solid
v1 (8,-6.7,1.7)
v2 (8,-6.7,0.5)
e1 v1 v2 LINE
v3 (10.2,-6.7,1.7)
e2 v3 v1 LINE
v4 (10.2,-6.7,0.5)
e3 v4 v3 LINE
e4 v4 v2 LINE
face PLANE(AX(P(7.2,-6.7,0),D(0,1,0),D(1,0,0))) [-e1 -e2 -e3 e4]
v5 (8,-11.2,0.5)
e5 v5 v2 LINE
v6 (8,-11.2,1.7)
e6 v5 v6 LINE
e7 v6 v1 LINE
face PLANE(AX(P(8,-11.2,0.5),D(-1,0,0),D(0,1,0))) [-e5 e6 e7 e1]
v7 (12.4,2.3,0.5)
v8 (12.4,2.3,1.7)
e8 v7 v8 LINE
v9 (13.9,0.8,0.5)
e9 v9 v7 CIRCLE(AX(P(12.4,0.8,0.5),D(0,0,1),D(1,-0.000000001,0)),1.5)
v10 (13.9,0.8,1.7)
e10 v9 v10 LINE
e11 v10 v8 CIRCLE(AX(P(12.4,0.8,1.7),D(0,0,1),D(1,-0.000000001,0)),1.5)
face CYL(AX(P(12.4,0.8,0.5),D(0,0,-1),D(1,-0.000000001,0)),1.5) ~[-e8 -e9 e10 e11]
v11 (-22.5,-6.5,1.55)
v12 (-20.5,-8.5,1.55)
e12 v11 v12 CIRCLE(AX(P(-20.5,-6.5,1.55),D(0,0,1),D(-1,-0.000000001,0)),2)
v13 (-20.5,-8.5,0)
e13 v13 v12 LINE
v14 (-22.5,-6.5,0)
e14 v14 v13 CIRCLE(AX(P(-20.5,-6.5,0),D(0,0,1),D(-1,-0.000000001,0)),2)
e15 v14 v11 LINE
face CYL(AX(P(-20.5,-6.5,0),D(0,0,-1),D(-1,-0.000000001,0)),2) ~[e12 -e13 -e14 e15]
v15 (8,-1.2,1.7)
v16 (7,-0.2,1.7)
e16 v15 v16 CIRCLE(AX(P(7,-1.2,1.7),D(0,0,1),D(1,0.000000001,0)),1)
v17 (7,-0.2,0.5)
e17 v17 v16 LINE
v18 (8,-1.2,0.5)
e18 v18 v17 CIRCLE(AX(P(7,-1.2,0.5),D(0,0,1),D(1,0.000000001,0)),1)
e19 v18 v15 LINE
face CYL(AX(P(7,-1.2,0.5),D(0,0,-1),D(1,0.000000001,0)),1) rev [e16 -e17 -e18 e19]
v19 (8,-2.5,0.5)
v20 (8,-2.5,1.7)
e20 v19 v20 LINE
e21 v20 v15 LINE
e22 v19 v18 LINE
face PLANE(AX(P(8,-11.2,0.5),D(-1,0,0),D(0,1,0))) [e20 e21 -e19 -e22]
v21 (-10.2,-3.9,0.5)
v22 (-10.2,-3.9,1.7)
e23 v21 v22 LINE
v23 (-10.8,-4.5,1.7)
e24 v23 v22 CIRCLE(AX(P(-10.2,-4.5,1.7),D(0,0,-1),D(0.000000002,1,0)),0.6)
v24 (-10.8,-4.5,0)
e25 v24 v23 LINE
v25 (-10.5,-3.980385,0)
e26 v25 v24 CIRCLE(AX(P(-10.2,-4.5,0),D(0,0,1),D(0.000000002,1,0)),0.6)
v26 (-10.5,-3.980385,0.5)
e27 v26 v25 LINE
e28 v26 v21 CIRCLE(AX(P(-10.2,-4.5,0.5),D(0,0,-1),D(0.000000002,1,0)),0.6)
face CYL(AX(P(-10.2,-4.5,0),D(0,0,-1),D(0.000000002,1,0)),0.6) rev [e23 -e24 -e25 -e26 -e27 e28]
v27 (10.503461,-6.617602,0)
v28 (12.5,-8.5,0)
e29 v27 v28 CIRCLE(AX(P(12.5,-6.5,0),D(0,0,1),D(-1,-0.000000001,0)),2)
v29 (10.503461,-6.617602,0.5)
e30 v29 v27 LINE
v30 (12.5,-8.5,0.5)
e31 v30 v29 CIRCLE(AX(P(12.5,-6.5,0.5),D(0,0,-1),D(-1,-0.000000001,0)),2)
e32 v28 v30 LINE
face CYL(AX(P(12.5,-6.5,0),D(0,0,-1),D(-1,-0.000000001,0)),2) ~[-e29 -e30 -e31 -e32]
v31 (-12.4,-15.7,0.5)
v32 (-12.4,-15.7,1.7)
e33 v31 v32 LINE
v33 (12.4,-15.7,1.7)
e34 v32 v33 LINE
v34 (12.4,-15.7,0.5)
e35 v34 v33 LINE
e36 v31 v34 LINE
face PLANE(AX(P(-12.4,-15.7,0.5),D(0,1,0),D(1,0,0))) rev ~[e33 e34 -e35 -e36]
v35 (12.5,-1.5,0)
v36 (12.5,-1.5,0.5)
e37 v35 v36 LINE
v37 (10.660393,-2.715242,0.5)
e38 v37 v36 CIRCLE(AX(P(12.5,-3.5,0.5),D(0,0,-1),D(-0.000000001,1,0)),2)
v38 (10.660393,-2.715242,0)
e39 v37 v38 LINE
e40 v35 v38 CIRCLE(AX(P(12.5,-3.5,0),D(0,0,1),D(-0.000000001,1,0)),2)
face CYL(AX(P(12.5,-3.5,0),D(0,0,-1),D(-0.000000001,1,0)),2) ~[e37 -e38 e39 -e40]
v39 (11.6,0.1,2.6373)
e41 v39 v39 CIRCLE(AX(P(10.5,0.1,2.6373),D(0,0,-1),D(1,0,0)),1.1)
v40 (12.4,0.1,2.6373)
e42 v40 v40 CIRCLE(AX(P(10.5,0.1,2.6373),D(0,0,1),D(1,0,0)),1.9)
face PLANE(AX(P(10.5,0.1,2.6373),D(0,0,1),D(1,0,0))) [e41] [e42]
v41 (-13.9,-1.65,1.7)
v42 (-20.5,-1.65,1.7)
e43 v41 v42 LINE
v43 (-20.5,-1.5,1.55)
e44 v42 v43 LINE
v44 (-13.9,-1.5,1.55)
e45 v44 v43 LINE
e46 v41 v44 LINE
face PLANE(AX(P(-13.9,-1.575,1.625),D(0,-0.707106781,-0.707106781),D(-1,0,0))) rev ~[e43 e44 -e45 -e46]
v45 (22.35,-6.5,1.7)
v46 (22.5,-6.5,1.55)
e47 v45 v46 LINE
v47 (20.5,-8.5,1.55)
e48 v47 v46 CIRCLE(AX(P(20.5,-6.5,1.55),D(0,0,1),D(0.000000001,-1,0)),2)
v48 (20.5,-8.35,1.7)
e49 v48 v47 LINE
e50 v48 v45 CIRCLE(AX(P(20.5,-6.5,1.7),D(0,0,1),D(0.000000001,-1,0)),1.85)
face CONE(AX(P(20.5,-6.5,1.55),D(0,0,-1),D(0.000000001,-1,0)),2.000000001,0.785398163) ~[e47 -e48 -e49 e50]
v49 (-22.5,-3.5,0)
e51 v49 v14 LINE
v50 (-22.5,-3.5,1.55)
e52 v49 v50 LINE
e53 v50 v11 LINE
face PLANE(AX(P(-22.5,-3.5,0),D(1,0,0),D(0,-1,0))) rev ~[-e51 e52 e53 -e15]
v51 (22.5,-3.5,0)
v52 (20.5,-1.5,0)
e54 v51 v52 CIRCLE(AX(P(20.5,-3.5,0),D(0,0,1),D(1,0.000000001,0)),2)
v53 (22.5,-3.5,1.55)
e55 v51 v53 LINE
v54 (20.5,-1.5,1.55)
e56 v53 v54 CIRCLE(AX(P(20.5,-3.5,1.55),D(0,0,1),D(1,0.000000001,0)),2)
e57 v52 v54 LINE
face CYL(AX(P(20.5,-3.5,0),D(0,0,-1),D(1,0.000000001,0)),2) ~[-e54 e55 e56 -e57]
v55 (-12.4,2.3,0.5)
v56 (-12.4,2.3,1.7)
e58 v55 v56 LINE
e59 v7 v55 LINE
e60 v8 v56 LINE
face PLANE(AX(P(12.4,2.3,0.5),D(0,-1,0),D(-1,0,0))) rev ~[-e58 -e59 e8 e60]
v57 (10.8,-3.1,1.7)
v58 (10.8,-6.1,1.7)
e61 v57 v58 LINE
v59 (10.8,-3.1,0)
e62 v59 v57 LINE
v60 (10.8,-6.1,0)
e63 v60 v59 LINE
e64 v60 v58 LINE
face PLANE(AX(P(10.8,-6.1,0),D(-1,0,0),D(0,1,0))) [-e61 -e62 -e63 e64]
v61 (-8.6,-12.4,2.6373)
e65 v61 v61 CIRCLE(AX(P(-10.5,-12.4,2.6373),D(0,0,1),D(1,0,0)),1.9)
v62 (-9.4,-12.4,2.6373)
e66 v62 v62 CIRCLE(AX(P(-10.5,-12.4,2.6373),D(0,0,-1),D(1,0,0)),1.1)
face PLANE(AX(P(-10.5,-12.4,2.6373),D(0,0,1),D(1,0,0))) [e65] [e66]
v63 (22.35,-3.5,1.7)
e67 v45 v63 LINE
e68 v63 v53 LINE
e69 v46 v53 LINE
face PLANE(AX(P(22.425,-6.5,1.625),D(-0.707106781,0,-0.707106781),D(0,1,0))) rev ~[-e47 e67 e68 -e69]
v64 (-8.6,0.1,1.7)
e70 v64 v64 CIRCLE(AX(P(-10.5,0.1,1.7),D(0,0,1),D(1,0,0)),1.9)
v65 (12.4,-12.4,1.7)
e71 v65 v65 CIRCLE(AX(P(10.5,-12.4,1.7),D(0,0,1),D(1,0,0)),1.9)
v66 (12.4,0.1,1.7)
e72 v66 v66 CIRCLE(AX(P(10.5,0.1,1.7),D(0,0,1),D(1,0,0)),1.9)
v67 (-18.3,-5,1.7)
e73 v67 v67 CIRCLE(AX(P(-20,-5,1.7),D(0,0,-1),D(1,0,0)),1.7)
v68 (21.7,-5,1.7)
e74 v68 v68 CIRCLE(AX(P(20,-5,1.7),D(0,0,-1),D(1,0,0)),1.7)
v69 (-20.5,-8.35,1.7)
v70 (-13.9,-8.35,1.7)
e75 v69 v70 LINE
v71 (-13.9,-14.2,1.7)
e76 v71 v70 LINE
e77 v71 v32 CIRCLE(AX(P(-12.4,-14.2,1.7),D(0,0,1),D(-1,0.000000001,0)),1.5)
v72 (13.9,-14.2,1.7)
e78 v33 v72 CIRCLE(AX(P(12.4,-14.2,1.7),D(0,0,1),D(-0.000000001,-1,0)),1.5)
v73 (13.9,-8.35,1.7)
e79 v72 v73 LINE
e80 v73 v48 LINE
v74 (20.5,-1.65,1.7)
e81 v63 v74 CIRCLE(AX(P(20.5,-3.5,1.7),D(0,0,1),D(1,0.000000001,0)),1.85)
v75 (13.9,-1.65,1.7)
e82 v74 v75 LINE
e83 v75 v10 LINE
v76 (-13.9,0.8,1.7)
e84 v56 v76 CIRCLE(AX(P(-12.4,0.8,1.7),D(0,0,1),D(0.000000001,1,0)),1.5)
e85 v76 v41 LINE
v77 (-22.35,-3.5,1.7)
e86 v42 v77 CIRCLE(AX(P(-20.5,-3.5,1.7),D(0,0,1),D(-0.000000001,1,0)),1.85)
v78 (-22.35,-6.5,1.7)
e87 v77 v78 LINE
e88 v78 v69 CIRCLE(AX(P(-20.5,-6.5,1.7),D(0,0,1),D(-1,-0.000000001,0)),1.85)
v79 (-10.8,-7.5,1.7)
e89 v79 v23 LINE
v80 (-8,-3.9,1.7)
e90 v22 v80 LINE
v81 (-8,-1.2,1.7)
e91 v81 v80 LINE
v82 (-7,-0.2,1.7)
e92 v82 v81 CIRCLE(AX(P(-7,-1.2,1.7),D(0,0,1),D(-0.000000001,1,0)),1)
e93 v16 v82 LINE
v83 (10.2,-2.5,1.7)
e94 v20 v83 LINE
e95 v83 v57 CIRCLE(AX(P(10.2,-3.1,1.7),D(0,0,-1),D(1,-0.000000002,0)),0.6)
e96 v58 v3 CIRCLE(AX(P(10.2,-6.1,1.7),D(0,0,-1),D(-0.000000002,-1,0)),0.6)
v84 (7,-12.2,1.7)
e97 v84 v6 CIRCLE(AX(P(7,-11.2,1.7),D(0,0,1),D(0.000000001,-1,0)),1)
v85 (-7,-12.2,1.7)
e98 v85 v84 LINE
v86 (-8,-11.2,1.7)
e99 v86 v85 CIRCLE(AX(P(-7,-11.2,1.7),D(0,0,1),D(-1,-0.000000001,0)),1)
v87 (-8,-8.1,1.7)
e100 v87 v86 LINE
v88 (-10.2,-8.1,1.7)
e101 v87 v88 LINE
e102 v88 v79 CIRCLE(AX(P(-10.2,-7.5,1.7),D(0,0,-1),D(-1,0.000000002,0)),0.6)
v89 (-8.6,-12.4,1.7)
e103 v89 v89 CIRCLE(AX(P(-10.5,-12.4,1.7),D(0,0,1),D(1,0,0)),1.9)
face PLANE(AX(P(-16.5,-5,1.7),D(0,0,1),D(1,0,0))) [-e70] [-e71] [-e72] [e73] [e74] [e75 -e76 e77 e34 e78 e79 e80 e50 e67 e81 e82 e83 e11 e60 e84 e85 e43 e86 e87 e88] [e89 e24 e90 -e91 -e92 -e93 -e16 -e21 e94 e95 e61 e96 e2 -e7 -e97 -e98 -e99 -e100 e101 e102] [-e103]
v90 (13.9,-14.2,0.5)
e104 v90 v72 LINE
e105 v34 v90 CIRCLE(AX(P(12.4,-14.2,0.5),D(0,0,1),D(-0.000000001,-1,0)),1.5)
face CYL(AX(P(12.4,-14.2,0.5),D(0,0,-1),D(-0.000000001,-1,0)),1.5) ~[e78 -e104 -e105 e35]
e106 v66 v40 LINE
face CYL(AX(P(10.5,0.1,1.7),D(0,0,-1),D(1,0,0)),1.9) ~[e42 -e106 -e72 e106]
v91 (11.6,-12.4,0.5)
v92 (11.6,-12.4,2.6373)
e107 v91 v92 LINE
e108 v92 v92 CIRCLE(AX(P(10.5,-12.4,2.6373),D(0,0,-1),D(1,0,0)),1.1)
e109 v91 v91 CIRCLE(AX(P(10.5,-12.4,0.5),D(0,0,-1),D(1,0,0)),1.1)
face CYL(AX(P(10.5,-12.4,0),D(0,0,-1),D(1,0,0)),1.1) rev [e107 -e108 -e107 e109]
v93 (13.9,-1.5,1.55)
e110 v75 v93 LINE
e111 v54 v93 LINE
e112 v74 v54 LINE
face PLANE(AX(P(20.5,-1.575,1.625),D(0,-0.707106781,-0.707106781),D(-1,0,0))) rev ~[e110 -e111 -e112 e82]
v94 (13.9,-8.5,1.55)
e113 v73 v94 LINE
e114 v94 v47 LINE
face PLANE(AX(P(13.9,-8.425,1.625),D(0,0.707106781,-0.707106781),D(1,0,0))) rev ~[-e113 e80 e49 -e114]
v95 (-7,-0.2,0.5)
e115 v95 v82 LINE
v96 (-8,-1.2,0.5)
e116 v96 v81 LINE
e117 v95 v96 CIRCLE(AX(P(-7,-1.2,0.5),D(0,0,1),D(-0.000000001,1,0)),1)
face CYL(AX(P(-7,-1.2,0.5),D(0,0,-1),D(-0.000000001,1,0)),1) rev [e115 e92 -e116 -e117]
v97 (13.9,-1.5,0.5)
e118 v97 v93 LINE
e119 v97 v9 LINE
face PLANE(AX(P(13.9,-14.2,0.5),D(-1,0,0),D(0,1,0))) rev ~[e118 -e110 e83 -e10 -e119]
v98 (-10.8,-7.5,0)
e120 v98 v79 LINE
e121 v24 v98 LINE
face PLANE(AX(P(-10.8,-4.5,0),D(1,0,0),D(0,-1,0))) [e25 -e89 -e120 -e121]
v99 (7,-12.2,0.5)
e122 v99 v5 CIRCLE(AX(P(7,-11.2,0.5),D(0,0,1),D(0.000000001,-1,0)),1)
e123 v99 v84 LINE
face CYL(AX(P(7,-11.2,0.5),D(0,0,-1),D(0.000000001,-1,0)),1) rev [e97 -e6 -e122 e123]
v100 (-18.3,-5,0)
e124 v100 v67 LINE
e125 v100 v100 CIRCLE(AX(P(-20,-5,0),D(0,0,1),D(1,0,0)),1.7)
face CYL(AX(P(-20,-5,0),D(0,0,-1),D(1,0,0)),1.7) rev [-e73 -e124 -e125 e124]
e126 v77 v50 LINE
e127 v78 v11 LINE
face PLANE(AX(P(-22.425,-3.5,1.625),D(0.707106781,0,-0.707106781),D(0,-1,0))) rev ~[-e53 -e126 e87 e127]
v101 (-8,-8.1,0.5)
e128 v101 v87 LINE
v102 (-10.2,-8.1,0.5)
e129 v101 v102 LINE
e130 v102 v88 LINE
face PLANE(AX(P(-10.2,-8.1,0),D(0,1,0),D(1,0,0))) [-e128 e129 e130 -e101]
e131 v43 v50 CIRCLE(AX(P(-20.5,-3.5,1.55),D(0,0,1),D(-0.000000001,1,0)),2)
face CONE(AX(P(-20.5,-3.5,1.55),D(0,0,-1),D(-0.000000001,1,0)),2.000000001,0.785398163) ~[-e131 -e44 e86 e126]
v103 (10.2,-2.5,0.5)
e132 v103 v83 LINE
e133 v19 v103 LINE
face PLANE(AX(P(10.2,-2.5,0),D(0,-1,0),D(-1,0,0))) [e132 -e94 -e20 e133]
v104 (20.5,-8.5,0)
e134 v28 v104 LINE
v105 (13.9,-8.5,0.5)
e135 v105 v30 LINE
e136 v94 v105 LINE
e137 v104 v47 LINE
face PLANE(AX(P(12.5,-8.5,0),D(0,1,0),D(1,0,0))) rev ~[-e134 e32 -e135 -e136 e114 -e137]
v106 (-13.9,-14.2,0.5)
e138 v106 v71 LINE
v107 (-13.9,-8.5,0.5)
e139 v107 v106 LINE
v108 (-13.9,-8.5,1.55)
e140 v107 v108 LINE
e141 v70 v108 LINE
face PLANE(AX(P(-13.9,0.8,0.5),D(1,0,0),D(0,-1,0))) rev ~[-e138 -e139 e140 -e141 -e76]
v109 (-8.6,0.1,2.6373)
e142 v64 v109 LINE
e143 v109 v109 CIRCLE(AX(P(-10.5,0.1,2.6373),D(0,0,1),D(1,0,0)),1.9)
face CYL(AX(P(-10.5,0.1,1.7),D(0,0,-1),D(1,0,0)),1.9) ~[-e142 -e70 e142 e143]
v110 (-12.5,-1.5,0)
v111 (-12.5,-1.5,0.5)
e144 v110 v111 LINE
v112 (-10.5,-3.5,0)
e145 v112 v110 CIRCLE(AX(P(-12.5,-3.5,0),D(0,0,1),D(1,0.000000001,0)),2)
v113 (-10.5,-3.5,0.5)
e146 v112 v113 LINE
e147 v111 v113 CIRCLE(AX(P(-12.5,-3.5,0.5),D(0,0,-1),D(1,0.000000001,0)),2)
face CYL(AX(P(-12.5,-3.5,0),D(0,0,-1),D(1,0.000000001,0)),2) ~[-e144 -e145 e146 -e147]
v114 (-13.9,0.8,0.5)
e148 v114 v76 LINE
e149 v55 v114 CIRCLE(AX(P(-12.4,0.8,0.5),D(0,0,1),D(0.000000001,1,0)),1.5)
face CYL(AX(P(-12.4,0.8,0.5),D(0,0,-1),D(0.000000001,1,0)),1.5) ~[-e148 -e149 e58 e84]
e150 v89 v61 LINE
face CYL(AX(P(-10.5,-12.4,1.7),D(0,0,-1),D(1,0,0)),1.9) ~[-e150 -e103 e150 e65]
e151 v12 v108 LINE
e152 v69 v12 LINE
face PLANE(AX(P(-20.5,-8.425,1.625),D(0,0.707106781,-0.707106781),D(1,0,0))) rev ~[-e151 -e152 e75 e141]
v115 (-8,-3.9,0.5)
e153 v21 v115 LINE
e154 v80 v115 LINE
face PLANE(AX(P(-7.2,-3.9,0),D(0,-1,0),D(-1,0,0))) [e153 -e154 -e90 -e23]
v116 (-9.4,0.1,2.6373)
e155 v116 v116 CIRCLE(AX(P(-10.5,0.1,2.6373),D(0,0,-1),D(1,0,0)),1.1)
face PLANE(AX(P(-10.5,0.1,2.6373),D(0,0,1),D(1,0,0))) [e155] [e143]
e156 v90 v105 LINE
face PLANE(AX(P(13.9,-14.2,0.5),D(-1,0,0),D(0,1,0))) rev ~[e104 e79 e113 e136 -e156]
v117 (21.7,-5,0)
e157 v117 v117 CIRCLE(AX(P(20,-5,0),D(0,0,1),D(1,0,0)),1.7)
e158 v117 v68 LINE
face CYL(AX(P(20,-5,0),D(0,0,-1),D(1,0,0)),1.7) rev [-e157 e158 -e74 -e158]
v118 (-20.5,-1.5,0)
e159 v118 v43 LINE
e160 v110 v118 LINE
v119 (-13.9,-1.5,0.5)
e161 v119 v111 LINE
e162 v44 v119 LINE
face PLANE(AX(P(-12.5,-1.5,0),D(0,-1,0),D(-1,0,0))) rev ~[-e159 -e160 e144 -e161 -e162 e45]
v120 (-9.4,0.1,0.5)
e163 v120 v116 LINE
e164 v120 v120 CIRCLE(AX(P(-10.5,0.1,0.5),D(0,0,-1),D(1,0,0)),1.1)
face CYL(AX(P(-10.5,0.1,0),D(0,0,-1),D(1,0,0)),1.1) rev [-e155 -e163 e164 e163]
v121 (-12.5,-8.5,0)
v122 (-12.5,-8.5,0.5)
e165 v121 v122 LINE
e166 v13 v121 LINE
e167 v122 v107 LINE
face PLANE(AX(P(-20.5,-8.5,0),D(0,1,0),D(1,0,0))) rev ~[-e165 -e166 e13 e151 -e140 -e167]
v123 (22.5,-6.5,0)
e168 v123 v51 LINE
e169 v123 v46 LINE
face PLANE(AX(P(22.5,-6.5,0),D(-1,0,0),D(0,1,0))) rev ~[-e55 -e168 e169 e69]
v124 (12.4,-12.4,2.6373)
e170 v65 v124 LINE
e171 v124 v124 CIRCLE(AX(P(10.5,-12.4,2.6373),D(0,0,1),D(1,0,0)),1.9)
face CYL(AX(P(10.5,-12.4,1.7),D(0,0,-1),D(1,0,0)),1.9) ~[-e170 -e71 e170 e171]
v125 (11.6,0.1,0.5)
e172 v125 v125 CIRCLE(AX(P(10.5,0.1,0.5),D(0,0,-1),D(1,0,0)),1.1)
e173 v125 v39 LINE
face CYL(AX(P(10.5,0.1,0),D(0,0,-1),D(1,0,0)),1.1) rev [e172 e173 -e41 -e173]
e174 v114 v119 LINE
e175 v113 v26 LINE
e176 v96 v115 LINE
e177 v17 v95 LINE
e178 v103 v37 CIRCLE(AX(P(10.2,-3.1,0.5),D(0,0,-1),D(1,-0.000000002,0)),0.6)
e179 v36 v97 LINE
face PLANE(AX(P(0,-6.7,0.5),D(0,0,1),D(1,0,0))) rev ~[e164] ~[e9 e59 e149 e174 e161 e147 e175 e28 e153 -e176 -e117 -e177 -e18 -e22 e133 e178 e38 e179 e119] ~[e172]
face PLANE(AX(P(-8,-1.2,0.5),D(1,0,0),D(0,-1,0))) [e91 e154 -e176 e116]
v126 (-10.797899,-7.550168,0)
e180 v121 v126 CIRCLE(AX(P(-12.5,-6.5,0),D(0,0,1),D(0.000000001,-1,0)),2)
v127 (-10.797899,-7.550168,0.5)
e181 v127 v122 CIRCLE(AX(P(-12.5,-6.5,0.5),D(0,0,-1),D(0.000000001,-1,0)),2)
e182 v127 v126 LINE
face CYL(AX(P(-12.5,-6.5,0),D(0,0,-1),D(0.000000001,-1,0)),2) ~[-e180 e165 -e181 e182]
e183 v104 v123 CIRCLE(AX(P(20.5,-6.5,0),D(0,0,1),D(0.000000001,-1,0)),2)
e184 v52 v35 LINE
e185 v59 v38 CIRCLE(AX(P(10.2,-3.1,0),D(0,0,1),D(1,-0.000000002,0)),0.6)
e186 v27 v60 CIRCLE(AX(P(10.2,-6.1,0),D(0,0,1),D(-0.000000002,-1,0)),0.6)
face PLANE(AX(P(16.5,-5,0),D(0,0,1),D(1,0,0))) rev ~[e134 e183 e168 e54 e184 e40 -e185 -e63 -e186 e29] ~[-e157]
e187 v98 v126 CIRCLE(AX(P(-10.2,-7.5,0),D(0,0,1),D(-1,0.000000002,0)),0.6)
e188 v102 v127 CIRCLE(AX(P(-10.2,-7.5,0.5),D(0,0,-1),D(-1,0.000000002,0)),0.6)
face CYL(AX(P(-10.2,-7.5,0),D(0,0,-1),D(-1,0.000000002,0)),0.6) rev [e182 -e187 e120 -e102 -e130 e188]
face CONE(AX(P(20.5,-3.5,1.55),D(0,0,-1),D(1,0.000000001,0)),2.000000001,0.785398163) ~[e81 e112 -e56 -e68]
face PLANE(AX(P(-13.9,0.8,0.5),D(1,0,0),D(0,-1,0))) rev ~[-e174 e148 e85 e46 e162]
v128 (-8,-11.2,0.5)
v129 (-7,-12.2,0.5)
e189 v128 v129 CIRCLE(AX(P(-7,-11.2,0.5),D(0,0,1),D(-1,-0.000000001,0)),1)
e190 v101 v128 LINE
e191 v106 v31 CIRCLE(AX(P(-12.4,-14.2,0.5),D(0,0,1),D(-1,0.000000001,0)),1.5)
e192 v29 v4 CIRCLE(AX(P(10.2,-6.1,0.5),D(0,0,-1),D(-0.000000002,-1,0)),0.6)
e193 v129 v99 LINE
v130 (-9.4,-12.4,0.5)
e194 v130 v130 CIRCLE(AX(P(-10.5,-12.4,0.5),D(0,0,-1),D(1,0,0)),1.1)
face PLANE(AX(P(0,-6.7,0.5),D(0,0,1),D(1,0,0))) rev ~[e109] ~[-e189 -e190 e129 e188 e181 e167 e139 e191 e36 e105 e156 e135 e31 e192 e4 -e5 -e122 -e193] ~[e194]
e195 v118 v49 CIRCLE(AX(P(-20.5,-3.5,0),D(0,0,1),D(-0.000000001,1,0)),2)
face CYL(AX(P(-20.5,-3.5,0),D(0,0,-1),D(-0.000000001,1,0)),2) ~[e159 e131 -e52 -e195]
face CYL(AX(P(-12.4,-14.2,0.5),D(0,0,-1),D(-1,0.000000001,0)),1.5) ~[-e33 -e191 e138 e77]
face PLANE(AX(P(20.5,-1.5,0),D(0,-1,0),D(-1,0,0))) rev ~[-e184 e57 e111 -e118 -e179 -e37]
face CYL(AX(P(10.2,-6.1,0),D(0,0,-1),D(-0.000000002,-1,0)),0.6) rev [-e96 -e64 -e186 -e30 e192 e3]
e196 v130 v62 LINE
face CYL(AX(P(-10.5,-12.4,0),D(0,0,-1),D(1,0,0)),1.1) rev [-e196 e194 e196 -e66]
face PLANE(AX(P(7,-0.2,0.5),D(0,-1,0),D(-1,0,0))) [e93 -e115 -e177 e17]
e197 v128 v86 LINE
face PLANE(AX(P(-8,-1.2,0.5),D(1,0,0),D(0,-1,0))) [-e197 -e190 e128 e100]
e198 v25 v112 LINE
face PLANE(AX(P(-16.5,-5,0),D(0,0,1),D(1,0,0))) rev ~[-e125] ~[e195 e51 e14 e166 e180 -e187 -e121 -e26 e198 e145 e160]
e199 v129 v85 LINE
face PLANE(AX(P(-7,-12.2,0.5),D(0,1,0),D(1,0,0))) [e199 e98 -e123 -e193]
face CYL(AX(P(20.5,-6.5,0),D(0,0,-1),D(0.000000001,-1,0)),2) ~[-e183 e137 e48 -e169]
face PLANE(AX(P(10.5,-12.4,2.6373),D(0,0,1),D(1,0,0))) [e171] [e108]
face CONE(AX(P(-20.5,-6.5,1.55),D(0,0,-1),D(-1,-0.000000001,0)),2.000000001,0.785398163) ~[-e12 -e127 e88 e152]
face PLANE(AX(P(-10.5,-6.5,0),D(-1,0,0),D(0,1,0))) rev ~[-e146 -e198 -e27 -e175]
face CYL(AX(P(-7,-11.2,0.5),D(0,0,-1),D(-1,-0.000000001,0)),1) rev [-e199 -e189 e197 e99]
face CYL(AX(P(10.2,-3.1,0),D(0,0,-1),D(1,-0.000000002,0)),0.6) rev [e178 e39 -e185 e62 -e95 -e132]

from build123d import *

# Parameters (mm, degrees)
EXTRUDE_START          = 0.5
EXTRUDE_0_5_1_2_DEPTH  = 1.2
EXTRUDE_1_7_DEPTH      = 1.7
EXTRUDE_START_2        = 1.7
SKETCH_721_R           = 1.9
EXTRUDE_774_DEPTH      = 0.9373
SKETCH_M2_R            = 1.1
CUT_EXTRUDE_907_DEPTH  = 28.562571565
SKETCH_M3_R            = 1.7
CUT_EXTRUDE_1008_DEPTH = 28.562571565
CUT_EXTRUDE_1244_DEPTH = 28.562571565
CHAMFER_C0_15_SIZE     = 0.15


with BuildPart() as part:
    # Sketch 220 → 托板抬高0_5并厚1_2 (new body)
    with BuildSketch(Plane.XY.offset(EXTRUDE_START)):
        with BuildLine():
            Line((-12.4, -15.7), (12.4, -15.7))
            ThreePointArc((12.4, -15.7), (13.460660172, -15.260660172), (13.9, -14.2))
            Line((13.9, -14.2), (13.9, 0.8))
            ThreePointArc((13.9, 0.8), (13.460660172, 1.860660172), (12.4, 2.3))
            Line((12.4, 2.3), (-12.4, 2.3))
            ThreePointArc((-12.4, 2.3), (-13.460660172, 1.860660172), (-13.9, 0.8))
            Line((-13.9, 0.8), (-13.9, -14.2))
            ThreePointArc((-13.9, -14.2), (-13.460660172, -15.260660172), (-12.4, -15.7))
        make_face()
        with BuildLine():
            Line((-7, -12.2), (7, -12.2))
            ThreePointArc((7, -12.2), (7.707106781, -11.907106781), (8, -11.2))
            Line((8, -11.2), (8, -1.2))
            ThreePointArc((8, -1.2), (7.707106781, -0.492893219), (7, -0.2))
            Line((7, -0.2), (-7, -0.2))
            ThreePointArc((-7, -0.2), (-7.707106781, -0.492893219), (-8, -1.2))
            Line((-8, -1.2), (-8, -11.2))
            ThreePointArc((-8, -11.2), (-7.707106781, -11.907106781), (-7, -12.2))
        make_face(mode=Mode.SUBTRACT)
    extrude(amount=EXTRUDE_0_5_1_2_DEPTH)

    # Sketch 459 → 安装耳底面基准与厚1_7 (add)
    with BuildSketch(Plane.XY):
        with BuildLine():
            Line((-20.5, -8.5), (-12.5, -8.5))
            ThreePointArc((-12.5, -8.5), (-11.085786438, -7.914213562), (-10.5, -6.5))
            Line((-10.5, -6.5), (-10.5, -3.5))
            ThreePointArc((-10.5, -3.5), (-11.085786438, -2.085786438), (-12.5, -1.5))
            Line((-12.5, -1.5), (-20.5, -1.5))
            ThreePointArc((-20.5, -1.5), (-21.914213562, -2.085786438), (-22.5, -3.5))
            Line((-22.5, -3.5), (-22.5, -6.5))
            ThreePointArc((-22.5, -6.5), (-21.914213562, -7.914213562), (-20.5, -8.5))
        make_face()
        with BuildLine():
            Line((12.5, -8.5), (20.5, -8.5))
            ThreePointArc((20.5, -8.5), (21.914213562, -7.914213562), (22.5, -6.5))
            Line((22.5, -6.5), (22.5, -3.5))
            ThreePointArc((22.5, -3.5), (21.914213562, -2.085786438), (20.5, -1.5))
            Line((20.5, -1.5), (12.5, -1.5))
            ThreePointArc((12.5, -1.5), (11.085786438, -2.085786438), (10.5, -3.5))
            Line((10.5, -3.5), (10.5, -6.5))
            ThreePointArc((10.5, -6.5), (11.085786438, -7.914213562), (12.5, -8.5))
        make_face()
    extrude(amount=EXTRUDE_1_7_DEPTH)

    # Sketch 721 → Extrude 774 (add)
    with BuildSketch(Plane.XY.offset(EXTRUDE_START_2)):
        with Locations((-10.5, -12.4)):
            Circle(SKETCH_721_R)
        with Locations((-10.5, 0.1)):
            Circle(SKETCH_721_R)
        with Locations((10.5, -12.4)):
            Circle(SKETCH_721_R)
        with Locations((10.5, 0.1)):
            Circle(SKETCH_721_R)
    extrude(amount=EXTRUDE_774_DEPTH)

    # 四个相机M2间隙孔 → Cut-Extrude 907 (cut, through all)
    with BuildSketch(Plane.XY):
        with Locations((-10.5, -12.4)):
            Circle(SKETCH_M2_R)
        with Locations((-10.5, 0.1)):
            Circle(SKETCH_M2_R)
        with Locations((10.5, -12.4)):
            Circle(SKETCH_M2_R)
        with Locations((10.5, 0.1)):
            Circle(SKETCH_M2_R)
    extrude(amount=CUT_EXTRUDE_907_DEPTH, mode=Mode.SUBTRACT)

    # 双耳M3间隙孔 → Cut-Extrude 1008 (cut, through all)
    with BuildSketch(Plane.XY):
        with Locations((-20, -5)):
            Circle(SKETCH_M3_R)
        with Locations((20, -5)):
            Circle(SKETCH_M3_R)
    extrude(amount=CUT_EXTRUDE_1008_DEPTH, mode=Mode.SUBTRACT)

    # Sketch 1078 → Cut-Extrude 1244 (cut, through all)
    with BuildSketch(Plane.XY):
        with BuildLine():
            Line((7.2, -6.7), (10.2, -6.7))
            ThreePointArc((10.2, -6.7), (10.624264069, -6.524264069), (10.8, -6.1))
            Line((10.8, -6.1), (10.8, -3.1))
            ThreePointArc((10.8, -3.1), (10.624264069, -2.675735931), (10.2, -2.5))
            Line((10.2, -2.5), (7.2, -2.5))
            ThreePointArc((7.2, -2.5), (6.775735931, -2.675735931), (6.6, -3.1))
            Line((6.6, -3.1), (6.6, -6.1))
            ThreePointArc((6.6, -6.1), (6.775735931, -6.524264069), (7.2, -6.7))
        make_face()
        with BuildLine():
            Line((-10.2, -8.1), (-7.2, -8.1))
            ThreePointArc((-7.2, -8.1), (-6.775735931, -7.924264069), (-6.6, -7.5))
            Line((-6.6, -7.5), (-6.6, -4.5))
            ThreePointArc((-6.6, -4.5), (-6.775735931, -4.075735931), (-7.2, -3.9))
            Line((-7.2, -3.9), (-10.2, -3.9))
            ThreePointArc((-10.2, -3.9), (-10.624264069, -4.075735931), (-10.8, -4.5))
            Line((-10.8, -4.5), (-10.8, -7.5))
            ThreePointArc((-10.8, -7.5), (-10.624264069, -7.924264069), (-10.2, -8.1))
        make_face()
    extrude(amount=CUT_EXTRUDE_1244_DEPTH, mode=Mode.SUBTRACT)

    # 安装耳外缘去锐C0_15
    chamfer_c0_15_edges = [part.edges().sort_by_distance(p)[0] for p in [
        (21.914213562, -2.085786438, 1.7),
        (22.5, -5, 1.7),
        (21.914213562, -7.914213562, 1.7),
        (-21.914213562, -7.914213562, 1.7),
        (-21.914213562, -2.085786438, 1.7),
        (-22.5, -5, 1.7),
    ]]
    chamfer(chamfer_c0_15_edges, length=CHAMFER_C0_15_SIZE)


solid = part.part
